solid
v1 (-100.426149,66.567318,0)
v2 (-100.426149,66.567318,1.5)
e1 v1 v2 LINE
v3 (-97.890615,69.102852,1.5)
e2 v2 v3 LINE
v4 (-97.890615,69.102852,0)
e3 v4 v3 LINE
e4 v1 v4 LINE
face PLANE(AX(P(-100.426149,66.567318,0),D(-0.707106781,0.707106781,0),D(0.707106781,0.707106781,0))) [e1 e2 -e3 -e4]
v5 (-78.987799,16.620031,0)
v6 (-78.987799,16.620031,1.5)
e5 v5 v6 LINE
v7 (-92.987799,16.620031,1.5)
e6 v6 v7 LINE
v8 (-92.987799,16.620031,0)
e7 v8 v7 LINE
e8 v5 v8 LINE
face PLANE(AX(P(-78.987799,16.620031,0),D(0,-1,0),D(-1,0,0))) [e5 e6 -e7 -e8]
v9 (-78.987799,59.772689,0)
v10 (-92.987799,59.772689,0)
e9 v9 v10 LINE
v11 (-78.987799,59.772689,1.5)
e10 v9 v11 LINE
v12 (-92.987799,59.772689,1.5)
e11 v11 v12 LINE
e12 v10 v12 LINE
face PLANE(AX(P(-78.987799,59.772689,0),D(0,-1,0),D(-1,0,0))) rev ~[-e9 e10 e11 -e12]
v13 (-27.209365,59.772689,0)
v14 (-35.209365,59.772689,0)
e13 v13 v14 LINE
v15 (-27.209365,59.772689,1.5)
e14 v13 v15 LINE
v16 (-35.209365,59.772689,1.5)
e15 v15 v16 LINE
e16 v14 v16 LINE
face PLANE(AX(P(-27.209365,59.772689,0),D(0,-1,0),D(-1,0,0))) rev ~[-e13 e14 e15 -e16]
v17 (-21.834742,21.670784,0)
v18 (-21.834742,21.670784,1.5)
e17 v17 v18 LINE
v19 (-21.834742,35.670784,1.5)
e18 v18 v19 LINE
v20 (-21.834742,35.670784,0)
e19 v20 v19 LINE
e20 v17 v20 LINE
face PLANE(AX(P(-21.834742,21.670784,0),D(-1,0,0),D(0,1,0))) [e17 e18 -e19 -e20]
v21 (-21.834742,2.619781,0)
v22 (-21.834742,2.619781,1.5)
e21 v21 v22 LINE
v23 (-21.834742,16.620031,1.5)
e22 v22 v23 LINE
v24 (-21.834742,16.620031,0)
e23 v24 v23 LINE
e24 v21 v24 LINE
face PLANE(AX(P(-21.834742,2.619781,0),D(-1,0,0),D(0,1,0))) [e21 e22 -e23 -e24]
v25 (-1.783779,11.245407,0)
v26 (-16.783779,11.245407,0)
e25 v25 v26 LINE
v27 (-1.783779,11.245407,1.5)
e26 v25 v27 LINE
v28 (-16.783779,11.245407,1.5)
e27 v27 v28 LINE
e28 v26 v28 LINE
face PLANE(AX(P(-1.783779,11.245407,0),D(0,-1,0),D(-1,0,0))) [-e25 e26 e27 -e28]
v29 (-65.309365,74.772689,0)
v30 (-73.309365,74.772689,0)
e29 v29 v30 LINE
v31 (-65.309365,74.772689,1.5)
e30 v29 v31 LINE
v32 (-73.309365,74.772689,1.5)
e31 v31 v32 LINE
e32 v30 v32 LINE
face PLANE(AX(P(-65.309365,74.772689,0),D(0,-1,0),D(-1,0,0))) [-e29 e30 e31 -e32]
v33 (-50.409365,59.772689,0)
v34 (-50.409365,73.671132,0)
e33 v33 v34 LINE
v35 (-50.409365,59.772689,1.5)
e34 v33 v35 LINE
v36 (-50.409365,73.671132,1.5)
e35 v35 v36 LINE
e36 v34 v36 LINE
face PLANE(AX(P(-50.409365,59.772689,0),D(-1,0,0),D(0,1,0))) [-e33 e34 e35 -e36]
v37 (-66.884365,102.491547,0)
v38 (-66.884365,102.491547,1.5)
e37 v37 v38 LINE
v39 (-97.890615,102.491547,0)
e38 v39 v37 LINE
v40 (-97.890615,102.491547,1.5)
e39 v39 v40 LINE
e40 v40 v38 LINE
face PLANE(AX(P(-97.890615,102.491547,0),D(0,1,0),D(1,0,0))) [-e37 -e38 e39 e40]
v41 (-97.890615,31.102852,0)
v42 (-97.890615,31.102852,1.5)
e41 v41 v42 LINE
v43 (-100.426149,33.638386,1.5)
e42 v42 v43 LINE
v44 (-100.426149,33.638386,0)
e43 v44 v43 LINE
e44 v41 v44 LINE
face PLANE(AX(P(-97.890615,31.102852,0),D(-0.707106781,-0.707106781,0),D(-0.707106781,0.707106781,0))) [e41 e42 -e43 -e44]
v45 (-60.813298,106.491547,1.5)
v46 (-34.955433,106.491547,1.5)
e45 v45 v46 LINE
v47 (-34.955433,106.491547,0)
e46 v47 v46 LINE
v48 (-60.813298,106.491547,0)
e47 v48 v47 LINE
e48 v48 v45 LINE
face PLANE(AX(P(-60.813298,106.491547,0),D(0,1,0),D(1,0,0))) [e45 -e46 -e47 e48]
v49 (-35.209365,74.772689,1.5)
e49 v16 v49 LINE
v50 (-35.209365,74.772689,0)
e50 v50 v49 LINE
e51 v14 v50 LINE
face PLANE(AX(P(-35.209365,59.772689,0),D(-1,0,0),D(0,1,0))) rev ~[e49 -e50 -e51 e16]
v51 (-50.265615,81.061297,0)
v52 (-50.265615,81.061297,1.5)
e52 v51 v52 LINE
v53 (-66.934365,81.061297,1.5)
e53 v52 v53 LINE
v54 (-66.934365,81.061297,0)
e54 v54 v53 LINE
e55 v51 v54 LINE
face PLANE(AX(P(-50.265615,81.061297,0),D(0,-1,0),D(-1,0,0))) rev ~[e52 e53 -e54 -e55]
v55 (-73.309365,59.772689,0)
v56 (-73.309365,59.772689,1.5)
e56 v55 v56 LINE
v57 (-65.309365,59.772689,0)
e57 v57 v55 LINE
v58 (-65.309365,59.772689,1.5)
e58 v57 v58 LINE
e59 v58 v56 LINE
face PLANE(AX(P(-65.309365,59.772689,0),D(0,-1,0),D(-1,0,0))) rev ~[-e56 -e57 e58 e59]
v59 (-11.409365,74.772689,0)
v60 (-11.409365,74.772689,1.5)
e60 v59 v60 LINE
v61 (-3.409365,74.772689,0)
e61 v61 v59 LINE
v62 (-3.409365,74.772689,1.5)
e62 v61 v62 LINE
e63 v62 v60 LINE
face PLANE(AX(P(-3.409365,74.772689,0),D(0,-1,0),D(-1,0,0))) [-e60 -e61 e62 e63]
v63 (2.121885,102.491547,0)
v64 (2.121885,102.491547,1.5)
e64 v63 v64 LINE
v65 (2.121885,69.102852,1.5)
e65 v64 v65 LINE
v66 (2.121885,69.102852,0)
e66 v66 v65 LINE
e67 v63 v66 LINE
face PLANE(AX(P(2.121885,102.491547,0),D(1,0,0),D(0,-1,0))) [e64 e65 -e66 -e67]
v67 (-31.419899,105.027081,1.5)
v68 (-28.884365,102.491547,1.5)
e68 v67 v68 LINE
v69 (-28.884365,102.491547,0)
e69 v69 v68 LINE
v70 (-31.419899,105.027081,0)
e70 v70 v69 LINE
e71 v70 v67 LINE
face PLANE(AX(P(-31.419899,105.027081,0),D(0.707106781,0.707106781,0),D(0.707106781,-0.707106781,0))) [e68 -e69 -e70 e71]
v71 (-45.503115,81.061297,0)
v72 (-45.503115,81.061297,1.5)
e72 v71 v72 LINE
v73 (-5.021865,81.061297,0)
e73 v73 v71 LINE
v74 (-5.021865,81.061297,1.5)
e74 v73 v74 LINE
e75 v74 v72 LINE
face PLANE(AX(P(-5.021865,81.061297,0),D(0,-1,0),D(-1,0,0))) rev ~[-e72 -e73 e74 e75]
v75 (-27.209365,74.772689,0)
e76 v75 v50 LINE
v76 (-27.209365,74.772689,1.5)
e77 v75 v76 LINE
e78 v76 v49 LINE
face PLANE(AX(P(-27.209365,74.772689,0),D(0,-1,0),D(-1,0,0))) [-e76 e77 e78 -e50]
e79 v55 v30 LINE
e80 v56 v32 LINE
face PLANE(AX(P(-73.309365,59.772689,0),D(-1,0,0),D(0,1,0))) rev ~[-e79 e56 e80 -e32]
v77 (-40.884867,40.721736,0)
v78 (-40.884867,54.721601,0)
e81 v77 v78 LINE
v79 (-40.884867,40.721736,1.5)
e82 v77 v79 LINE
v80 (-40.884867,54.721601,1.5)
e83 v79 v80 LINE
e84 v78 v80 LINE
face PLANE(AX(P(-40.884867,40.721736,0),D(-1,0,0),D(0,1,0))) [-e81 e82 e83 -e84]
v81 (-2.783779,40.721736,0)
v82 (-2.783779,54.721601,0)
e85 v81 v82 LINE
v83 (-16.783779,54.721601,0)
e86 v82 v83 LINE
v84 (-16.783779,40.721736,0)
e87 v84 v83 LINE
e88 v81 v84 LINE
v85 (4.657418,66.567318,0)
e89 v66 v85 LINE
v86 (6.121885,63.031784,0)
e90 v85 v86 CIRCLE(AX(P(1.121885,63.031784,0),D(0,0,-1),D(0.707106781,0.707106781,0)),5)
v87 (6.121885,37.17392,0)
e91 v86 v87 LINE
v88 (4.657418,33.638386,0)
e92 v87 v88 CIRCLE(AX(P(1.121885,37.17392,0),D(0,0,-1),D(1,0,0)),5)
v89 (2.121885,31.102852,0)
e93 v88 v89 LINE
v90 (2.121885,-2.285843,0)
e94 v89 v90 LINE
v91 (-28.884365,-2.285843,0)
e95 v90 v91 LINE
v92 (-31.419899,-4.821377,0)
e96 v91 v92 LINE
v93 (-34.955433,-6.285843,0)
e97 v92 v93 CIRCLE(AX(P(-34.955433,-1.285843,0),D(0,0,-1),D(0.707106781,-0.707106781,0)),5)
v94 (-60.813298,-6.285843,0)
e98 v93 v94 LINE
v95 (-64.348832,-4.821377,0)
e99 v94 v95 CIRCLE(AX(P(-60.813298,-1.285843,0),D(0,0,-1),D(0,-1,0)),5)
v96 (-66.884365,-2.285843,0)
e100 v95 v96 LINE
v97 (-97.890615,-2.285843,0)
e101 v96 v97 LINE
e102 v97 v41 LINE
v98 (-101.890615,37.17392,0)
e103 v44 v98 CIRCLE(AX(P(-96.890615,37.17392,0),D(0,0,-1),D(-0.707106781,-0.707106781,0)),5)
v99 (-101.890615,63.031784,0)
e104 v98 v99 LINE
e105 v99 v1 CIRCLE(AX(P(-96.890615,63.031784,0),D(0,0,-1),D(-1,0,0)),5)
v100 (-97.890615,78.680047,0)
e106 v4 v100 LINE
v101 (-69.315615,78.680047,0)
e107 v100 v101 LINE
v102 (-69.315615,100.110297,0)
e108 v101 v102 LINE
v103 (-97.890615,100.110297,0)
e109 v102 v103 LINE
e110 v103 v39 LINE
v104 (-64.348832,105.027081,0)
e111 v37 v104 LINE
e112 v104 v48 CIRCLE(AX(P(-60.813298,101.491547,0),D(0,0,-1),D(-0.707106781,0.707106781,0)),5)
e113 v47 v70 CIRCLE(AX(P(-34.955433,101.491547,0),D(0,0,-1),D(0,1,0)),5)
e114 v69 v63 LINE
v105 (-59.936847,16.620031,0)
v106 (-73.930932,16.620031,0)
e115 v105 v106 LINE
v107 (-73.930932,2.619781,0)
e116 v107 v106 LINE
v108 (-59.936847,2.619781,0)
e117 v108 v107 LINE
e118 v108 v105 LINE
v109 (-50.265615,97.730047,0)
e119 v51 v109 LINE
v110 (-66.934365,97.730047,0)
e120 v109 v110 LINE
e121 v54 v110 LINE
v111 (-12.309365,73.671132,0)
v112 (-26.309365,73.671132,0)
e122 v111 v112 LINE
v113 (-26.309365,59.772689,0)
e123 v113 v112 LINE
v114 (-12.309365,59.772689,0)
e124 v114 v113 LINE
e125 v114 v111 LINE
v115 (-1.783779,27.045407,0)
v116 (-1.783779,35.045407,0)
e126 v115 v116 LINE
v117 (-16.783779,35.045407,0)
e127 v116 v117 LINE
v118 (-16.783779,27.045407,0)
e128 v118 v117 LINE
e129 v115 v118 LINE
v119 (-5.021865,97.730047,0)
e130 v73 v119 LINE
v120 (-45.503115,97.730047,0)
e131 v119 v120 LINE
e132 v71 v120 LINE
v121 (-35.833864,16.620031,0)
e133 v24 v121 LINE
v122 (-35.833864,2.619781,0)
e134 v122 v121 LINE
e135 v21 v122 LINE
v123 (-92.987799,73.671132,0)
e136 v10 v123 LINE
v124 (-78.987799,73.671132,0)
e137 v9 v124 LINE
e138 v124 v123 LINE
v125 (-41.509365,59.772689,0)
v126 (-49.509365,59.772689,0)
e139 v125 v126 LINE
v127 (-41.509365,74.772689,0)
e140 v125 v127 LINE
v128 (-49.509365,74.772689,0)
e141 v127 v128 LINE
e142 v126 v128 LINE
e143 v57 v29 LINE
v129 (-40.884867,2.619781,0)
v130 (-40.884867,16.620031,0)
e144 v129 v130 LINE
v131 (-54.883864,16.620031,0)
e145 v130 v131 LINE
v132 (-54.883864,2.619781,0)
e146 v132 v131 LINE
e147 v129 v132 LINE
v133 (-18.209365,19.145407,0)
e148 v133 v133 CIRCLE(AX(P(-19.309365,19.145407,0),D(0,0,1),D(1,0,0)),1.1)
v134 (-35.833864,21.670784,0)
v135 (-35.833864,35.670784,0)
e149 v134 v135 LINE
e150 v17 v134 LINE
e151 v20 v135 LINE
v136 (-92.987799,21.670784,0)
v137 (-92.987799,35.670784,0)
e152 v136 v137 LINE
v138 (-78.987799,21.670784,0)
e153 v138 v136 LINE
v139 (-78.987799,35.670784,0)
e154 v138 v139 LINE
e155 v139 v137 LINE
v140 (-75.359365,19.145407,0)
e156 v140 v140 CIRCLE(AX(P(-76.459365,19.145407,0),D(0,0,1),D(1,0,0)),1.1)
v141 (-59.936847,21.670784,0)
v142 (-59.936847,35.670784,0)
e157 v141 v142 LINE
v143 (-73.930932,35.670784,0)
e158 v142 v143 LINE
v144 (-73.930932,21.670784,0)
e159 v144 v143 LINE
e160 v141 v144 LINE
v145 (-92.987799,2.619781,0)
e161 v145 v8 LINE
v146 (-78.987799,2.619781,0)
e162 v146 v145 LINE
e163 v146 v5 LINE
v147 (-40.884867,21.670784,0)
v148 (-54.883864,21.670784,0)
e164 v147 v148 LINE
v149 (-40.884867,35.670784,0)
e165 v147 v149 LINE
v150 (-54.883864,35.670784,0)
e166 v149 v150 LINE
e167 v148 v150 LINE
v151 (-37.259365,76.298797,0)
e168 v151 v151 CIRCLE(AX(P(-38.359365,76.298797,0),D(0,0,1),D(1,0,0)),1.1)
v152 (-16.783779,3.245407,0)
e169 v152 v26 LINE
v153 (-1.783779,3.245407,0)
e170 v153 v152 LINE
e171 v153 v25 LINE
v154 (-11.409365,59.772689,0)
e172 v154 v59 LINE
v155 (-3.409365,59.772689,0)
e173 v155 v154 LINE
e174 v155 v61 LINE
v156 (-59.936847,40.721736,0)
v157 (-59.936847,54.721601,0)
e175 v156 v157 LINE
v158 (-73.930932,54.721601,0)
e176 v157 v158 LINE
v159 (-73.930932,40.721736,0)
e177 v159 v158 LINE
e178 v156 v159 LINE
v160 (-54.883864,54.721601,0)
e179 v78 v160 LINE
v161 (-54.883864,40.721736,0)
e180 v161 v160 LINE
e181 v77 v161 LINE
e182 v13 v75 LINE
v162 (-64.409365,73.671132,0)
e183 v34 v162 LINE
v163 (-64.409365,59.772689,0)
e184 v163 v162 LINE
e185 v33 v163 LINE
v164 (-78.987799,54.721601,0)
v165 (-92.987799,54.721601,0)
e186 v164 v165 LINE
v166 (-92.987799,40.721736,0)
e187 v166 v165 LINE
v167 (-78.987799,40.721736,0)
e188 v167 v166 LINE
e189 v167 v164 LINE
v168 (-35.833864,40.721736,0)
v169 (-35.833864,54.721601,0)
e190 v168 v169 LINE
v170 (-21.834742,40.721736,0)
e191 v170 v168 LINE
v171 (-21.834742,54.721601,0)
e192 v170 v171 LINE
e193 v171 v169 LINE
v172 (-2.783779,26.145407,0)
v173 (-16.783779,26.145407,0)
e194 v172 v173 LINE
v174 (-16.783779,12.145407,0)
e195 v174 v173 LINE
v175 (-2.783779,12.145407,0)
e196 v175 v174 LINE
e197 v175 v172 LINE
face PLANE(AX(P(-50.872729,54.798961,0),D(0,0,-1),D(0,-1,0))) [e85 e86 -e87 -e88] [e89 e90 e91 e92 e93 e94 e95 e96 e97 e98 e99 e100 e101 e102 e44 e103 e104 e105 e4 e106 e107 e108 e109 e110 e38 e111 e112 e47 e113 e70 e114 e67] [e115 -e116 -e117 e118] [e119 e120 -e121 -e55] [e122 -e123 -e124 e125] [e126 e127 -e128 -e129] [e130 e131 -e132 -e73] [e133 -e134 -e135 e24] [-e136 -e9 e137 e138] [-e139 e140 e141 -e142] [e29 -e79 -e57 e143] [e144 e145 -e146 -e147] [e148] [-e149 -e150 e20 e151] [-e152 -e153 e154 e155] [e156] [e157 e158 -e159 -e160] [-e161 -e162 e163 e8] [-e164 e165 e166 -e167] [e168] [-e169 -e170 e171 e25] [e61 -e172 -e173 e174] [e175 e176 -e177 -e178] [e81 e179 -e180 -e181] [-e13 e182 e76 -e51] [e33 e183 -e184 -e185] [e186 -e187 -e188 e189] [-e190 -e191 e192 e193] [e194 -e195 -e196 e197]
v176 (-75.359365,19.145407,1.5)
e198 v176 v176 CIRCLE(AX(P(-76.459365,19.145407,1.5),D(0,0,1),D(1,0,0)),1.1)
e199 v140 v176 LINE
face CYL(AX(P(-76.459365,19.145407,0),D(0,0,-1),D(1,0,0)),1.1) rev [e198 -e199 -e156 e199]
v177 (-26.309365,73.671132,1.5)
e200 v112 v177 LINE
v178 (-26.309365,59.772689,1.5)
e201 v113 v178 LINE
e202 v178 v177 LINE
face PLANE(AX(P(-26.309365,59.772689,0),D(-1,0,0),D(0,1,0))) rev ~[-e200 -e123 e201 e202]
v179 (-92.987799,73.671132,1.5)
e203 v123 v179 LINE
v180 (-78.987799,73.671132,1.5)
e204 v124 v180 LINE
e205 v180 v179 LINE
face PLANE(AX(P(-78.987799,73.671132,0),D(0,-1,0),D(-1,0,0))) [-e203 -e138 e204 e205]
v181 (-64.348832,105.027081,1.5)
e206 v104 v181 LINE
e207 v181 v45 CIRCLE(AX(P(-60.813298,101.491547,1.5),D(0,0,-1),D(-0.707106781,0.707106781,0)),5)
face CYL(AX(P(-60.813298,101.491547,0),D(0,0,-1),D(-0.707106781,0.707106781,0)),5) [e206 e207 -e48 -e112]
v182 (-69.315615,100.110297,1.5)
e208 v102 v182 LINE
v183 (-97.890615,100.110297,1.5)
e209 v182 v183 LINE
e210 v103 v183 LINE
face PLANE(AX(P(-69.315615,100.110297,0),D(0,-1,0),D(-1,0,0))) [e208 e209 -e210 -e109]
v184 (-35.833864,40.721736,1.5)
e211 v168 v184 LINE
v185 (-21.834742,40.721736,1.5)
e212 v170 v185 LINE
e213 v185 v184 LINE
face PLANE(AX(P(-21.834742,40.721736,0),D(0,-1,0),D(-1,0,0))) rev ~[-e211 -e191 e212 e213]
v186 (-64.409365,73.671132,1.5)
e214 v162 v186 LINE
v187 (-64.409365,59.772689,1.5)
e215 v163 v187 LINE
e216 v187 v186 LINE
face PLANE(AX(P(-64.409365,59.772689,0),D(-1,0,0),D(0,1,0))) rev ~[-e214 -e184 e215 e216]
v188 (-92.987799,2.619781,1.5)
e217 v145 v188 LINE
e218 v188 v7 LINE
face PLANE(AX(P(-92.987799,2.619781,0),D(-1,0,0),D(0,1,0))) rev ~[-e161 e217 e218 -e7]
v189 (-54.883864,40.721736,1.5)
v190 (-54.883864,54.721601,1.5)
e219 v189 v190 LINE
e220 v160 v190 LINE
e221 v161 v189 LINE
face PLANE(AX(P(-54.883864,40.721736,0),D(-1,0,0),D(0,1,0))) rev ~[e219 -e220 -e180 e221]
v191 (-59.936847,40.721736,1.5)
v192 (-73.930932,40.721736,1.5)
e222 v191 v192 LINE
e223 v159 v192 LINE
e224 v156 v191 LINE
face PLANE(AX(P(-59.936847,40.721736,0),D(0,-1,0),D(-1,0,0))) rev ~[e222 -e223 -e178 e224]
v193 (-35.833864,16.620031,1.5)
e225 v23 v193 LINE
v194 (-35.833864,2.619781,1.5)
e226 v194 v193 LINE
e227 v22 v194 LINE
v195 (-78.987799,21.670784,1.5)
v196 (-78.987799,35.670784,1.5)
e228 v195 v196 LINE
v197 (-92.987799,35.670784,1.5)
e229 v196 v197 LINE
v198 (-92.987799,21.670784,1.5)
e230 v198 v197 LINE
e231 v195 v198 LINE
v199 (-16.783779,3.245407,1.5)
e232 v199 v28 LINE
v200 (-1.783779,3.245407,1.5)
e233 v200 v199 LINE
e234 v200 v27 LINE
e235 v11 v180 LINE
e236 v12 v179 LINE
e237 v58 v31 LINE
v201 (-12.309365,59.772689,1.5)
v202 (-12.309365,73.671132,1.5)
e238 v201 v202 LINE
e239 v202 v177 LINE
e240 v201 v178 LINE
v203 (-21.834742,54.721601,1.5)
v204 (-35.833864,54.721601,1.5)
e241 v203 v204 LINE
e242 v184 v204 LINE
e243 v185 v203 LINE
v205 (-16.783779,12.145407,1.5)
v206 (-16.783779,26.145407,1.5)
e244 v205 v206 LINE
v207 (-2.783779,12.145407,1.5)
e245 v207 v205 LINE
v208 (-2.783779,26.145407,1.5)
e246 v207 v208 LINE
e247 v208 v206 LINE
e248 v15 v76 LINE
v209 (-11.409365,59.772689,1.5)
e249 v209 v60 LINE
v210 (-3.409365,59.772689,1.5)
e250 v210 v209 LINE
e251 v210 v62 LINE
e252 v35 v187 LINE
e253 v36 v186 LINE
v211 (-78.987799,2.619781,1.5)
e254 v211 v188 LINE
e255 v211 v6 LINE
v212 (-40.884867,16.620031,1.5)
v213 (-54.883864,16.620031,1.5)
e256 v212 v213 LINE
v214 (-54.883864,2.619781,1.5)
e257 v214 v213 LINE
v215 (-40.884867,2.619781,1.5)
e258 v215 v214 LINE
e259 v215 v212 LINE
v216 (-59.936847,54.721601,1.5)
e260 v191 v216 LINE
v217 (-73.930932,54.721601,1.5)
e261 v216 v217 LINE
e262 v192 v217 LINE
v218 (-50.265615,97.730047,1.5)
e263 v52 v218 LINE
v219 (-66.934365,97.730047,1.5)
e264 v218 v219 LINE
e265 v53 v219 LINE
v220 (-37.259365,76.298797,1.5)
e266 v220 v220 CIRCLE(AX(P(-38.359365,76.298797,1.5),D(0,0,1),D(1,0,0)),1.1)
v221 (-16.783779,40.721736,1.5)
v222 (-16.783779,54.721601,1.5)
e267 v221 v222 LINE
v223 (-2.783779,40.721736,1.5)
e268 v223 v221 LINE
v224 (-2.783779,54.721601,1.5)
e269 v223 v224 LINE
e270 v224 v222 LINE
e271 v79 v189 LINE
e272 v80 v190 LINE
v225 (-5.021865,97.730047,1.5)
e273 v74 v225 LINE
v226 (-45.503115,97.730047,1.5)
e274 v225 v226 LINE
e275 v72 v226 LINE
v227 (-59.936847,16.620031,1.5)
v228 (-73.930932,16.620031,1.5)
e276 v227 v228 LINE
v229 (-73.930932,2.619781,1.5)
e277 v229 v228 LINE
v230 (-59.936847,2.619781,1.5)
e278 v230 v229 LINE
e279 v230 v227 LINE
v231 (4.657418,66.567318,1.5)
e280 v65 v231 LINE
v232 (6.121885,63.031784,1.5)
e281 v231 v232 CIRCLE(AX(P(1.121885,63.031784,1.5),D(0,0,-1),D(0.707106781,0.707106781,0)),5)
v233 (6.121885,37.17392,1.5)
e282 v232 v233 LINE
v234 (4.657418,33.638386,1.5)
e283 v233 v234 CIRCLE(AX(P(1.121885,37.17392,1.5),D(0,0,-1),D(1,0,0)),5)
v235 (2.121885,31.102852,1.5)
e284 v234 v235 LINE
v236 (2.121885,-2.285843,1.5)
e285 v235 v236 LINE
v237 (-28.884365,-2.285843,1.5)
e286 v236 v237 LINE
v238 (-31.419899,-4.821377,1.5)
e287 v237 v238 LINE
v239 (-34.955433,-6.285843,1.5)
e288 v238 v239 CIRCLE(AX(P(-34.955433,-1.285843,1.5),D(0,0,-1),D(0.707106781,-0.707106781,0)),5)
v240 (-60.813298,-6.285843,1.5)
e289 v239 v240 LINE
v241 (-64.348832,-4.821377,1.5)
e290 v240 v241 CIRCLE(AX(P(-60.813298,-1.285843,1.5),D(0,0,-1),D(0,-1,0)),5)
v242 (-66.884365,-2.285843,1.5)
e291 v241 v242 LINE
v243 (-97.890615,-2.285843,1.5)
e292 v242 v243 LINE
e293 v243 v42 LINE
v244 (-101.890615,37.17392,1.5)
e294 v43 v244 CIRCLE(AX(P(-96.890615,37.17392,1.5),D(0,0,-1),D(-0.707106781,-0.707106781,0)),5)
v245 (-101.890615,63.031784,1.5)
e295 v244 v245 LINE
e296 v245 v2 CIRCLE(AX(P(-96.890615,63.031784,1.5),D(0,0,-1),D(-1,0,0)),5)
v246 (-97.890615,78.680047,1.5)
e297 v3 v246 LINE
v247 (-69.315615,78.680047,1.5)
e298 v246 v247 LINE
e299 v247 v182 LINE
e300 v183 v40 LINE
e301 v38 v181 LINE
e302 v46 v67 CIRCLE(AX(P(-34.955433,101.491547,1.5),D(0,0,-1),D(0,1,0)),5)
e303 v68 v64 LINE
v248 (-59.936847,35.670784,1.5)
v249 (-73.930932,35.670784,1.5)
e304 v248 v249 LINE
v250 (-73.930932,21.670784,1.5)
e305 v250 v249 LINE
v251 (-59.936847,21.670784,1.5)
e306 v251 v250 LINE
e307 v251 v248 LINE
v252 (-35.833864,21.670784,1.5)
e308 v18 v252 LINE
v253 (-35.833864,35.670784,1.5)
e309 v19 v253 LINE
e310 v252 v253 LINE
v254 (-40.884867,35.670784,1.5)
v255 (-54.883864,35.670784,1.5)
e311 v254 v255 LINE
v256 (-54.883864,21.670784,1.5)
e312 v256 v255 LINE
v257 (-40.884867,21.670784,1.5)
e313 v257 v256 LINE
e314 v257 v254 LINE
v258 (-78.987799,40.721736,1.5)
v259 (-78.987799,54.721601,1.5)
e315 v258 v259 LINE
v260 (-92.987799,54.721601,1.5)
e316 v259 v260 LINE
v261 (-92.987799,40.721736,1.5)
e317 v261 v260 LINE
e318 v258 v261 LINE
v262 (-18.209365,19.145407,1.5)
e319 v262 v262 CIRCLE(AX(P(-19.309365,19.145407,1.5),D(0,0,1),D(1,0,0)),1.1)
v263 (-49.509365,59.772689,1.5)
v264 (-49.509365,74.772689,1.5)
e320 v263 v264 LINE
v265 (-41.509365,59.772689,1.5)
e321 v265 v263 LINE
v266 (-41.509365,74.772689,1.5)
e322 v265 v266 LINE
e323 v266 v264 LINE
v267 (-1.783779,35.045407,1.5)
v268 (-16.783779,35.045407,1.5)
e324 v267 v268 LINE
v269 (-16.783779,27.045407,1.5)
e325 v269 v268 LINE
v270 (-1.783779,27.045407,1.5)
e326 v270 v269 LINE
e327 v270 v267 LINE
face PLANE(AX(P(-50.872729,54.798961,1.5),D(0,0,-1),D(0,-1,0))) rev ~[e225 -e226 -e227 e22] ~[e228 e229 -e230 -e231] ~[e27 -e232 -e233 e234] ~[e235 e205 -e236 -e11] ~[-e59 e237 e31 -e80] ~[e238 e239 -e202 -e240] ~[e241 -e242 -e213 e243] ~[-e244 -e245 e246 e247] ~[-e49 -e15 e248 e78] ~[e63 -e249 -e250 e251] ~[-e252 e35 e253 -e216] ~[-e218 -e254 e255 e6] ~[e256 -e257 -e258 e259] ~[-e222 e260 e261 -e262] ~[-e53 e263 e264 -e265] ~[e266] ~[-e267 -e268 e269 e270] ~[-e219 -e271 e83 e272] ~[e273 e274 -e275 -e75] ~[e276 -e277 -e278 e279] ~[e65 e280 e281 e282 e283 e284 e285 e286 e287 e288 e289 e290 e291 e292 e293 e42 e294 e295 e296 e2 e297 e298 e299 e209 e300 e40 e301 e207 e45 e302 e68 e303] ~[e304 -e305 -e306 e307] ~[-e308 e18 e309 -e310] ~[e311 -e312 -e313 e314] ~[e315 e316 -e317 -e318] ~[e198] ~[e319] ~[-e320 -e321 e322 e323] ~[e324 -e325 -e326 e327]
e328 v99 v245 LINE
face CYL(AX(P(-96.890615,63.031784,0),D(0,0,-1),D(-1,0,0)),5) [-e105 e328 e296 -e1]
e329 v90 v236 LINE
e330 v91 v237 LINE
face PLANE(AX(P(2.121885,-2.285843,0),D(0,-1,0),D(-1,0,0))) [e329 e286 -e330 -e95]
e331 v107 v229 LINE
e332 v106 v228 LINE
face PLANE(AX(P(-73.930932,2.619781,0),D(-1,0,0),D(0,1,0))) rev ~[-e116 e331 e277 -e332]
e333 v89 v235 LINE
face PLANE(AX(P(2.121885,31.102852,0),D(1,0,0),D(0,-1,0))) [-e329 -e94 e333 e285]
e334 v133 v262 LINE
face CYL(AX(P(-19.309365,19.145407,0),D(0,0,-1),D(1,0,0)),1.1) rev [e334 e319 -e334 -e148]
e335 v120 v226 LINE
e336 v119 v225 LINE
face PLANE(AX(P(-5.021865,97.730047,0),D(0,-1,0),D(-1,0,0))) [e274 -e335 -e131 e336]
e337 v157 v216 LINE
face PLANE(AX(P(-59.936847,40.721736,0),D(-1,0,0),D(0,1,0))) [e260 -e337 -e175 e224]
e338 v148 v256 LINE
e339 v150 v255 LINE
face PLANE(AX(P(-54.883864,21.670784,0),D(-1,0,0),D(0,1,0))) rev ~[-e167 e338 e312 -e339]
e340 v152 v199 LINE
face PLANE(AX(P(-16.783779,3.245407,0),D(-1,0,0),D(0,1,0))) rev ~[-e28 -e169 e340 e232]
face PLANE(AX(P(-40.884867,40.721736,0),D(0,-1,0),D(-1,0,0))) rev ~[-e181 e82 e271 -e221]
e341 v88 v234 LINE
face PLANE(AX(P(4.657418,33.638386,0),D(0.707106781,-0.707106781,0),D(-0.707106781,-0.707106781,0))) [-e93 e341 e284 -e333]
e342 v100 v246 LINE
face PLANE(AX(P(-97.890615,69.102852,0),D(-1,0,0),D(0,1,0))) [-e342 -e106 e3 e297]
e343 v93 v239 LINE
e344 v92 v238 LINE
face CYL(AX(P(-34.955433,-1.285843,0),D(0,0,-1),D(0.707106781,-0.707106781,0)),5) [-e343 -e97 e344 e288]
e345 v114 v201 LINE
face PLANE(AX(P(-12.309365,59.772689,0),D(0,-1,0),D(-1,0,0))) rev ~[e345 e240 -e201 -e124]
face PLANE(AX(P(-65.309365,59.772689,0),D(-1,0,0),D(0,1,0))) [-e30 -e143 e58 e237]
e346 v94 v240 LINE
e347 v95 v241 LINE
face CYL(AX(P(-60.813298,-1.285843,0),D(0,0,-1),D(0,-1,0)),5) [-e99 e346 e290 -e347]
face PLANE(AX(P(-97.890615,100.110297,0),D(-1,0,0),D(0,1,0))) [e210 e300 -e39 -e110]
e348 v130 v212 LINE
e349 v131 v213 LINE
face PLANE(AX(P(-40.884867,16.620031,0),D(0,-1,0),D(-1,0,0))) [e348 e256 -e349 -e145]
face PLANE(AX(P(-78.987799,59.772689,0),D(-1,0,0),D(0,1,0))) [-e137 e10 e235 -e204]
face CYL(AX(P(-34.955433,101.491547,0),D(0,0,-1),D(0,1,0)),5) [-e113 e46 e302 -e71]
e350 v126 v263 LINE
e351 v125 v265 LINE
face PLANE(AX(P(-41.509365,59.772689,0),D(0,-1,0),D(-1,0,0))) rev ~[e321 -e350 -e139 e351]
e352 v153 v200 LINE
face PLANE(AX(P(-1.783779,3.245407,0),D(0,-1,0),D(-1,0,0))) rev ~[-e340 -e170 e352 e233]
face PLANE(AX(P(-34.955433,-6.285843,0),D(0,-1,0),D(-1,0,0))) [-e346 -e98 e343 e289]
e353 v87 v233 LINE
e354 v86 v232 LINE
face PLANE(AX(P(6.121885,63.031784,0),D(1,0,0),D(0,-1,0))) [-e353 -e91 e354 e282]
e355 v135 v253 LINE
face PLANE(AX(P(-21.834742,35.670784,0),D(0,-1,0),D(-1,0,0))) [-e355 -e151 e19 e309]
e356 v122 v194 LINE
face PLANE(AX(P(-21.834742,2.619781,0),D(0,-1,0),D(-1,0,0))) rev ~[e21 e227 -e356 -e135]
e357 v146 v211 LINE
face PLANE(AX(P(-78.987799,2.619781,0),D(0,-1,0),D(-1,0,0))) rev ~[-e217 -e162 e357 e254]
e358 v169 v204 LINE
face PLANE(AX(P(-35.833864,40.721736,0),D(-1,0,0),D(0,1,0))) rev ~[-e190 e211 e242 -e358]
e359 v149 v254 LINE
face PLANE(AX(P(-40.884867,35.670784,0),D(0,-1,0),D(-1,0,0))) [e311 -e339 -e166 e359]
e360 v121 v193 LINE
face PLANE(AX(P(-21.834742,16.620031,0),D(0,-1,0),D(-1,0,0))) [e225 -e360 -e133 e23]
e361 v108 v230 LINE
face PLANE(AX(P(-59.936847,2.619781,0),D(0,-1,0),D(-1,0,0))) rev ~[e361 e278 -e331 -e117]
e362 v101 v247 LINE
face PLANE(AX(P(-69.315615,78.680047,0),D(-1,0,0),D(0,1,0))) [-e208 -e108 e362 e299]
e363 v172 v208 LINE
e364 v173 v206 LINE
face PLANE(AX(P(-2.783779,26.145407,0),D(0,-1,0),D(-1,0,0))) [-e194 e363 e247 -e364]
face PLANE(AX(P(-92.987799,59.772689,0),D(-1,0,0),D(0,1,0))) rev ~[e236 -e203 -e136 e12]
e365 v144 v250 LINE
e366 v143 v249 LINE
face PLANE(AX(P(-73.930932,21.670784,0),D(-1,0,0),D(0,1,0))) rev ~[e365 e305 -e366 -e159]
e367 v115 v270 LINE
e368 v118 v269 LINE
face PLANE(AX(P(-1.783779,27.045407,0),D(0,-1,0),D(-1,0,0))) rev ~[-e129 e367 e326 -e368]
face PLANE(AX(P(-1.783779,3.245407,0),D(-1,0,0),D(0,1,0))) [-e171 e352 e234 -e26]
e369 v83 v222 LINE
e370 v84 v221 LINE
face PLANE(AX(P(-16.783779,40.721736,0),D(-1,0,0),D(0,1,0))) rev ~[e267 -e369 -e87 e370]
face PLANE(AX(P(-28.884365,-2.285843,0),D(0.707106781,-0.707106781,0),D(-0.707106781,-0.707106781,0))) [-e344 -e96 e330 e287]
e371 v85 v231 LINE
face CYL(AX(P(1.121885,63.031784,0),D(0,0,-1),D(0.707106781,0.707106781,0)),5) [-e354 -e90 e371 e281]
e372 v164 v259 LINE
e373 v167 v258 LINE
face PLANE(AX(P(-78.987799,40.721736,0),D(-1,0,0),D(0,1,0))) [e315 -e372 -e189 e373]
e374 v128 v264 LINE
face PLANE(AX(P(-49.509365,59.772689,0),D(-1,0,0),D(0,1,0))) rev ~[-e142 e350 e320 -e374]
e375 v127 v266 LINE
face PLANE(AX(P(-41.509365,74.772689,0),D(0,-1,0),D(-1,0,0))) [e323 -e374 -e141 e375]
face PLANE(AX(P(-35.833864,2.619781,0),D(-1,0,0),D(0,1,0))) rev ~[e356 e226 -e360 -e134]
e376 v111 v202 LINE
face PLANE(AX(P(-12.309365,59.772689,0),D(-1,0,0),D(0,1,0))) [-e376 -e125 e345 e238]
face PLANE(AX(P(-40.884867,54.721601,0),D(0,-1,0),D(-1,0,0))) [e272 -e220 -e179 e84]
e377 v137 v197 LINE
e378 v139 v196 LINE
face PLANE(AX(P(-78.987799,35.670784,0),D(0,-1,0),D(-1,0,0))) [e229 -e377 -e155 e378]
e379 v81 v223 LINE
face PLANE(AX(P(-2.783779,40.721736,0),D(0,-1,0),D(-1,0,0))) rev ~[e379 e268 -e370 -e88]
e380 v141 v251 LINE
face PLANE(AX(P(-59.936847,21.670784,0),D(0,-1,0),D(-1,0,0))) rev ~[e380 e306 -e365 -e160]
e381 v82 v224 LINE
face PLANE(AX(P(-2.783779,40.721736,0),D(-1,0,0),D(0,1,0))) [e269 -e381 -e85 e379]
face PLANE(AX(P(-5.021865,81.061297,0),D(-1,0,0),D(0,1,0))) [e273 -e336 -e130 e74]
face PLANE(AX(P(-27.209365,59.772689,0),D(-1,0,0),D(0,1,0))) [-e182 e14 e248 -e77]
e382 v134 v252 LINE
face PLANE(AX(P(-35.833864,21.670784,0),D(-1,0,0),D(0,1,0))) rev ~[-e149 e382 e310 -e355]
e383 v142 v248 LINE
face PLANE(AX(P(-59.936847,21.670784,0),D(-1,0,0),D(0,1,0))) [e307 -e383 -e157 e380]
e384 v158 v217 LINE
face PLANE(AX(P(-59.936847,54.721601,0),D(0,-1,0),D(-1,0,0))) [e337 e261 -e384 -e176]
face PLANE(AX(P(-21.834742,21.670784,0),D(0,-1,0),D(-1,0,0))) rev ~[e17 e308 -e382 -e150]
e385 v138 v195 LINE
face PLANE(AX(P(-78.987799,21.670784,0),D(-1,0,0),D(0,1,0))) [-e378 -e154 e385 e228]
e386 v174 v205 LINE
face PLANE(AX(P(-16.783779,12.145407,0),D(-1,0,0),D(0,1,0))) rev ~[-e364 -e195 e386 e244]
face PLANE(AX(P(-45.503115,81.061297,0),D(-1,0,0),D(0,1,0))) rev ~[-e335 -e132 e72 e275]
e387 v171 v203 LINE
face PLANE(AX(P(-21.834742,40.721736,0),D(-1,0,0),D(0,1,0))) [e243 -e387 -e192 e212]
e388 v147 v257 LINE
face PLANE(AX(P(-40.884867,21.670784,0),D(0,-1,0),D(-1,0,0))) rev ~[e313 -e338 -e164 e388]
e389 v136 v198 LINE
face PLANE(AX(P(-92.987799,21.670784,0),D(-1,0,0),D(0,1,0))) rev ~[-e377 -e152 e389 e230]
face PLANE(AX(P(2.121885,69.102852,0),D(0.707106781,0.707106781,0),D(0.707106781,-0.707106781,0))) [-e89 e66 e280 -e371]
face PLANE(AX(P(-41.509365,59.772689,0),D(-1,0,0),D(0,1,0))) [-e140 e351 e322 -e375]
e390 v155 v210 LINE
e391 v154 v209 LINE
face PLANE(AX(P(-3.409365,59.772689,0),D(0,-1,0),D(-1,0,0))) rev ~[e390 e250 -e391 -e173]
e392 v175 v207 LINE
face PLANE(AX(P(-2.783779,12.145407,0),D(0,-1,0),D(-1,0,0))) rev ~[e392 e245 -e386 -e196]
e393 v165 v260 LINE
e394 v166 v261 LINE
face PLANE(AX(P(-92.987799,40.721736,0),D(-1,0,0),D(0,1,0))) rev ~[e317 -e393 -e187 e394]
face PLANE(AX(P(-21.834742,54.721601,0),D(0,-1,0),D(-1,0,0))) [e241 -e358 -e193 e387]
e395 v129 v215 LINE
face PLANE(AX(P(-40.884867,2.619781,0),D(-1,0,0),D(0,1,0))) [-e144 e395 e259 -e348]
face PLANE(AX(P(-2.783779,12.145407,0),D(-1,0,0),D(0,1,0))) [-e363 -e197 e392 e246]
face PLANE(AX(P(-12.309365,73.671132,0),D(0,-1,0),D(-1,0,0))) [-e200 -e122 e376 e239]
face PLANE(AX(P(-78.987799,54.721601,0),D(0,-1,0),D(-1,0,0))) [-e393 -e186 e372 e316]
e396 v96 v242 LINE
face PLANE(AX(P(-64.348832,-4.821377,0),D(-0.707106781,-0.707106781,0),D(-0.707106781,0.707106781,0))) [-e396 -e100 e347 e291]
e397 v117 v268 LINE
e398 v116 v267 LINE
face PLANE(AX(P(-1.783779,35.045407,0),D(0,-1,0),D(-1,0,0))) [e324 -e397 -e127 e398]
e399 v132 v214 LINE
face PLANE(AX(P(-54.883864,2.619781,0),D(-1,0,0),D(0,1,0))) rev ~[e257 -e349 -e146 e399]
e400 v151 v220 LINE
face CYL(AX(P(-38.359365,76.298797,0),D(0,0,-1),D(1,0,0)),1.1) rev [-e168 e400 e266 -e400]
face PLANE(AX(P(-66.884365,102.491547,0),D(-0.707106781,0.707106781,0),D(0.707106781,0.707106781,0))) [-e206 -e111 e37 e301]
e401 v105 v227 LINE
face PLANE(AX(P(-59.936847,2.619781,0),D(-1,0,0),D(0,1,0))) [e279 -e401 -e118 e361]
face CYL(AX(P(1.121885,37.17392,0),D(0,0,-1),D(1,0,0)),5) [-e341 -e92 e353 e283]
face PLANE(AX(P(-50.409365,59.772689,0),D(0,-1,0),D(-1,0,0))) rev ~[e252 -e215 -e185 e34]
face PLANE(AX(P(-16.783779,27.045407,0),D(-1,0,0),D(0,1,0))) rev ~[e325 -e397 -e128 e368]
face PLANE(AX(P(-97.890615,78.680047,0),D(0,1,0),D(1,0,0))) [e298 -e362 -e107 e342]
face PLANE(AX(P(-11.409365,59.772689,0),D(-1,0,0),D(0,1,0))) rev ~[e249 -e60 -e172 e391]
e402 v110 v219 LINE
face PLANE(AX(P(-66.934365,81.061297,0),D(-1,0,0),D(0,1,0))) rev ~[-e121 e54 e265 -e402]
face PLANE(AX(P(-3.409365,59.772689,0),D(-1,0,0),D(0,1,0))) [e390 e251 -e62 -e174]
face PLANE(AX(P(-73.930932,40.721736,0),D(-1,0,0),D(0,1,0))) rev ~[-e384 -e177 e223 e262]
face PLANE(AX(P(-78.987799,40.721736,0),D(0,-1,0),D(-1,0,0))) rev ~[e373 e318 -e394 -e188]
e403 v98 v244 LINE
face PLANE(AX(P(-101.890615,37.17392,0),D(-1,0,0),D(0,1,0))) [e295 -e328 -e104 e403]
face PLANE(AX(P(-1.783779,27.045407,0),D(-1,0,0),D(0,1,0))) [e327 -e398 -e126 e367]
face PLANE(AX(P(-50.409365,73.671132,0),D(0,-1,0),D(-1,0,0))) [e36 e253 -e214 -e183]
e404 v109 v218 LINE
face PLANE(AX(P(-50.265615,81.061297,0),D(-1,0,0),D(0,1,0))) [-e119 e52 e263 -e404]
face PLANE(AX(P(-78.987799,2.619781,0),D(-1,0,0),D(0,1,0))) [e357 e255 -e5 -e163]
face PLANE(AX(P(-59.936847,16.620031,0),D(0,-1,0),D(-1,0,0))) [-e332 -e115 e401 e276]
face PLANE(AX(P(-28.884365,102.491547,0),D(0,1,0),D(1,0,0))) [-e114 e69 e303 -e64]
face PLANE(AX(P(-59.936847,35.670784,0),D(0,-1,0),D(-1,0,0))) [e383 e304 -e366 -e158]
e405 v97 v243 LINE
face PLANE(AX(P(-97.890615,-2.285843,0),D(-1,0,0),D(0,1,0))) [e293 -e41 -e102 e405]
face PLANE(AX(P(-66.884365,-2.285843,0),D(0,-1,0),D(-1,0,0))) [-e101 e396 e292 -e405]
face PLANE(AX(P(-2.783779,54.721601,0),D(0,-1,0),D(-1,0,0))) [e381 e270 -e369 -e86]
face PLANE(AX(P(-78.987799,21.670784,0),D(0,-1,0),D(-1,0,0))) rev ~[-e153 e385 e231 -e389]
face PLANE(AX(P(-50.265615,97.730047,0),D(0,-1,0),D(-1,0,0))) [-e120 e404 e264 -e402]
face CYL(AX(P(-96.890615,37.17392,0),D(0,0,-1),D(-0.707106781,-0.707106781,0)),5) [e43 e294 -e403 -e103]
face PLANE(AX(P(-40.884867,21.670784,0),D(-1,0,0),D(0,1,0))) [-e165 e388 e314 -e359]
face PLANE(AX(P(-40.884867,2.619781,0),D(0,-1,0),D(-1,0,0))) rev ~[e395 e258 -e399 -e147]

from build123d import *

# Parameters (mm, degrees)
SKETCH2_R           = 1.1
SKETCH2_W           = 14
SKETCH2_H           = 14
SKETCH2_W_2         = 13.999864793
SKETCH2_W_3         = 13.898443713
SKETCH2_W_4         = 14.000250013
SKETCH2_H_2         = 13.999122456
SKETCH2_H_3         = 13.99899745
SKETCH2_H_4         = 13.994084704
SKETCH2_W_5         = 16.66875
SKETCH2_H_5         = 16.66875
SKETCH2_H_6         = 40.48125
SKETCH2_W_6         = 8
SKETCH2_H_7         = 15
SKETCH2_W_7         = 15
SKETCH2_H_8         = 8
BOSS_EXTRUDE1_DEPTH = 1.5


with BuildPart() as part:
    # Sketch2 → Boss-Extrude1 (new body)
    with BuildSketch(Plane(origin=(0, 0, 0), x_dir=(0, 1, 0), z_dir=(0, 0, 1))):
        with BuildLine():
            Line((78.680047039, 95.509365468), (78.680047039, 69.315615468))
            Line((78.680047039, 69.315615468), (100.110297039, 69.315615468))
            Line((100.110297039, 69.315615468), (100.110297039, 95.563583947))
            Line((100.110297039, 95.563583947), (100.110297039, 97.890615468))
            Line((100.110297039, 97.890615468), (102.491547039, 97.890615468))
            Line((102.491547039, 97.890615468), (102.491547039, 95.509365468))
            Line((102.491547039, 95.509365468), (102.491547039, 66.884365468))
            Line((102.491547039, 66.884365468), (105.027080945, 64.348831562))
            ThreePointArc((105.027080945, 64.348831562), (106.110944702, 62.726714818), (106.491547039, 60.813297656))
            Line((106.491547039, 60.813297656), (106.491547039, 34.95543328))
            ThreePointArc((106.491547039, 34.95543328), (106.110944702, 33.042016118), (105.027080945, 31.419899374))
            Line((105.027080945, 31.419899374), (102.491547039, 28.884365468))
            Line((102.491547039, 28.884365468), (102.491547039, 0.259365468))
            Line((102.491547039, 0.259365468), (102.491547039, -2.121884532))
            Line((102.491547039, -2.121884532), (69.102852155, -2.121884532))
            Line((69.102852155, -2.121884532), (66.567318249, -4.657418438))
            ThreePointArc((66.567318249, -4.657418438), (64.945201505, -5.741282195), (63.031784343, -6.121884532))
            Line((63.031784343, -6.121884532), (37.173919967, -6.121884532))
            ThreePointArc((37.173919967, -6.121884532), (35.260502805, -5.741282195), (33.638386061, -4.657418438))
            Line((33.638386061, -4.657418438), (31.102852155, -2.121884532))
            Line((31.102852155, -2.121884532), (-2.285842729, -2.121884532))
            Line((-2.285842729, -2.121884532), (-2.285842729, 28.884365468))
            Line((-2.285842729, 28.884365468), (-4.821376635, 31.419899374))
            ThreePointArc((-4.821376635, 31.419899374), (-5.905240392, 33.042016118), (-6.285842729, 34.95543328))
            Line((-6.285842729, 34.95543328), (-6.285842729, 60.813297656))
            ThreePointArc((-6.285842729, 60.813297656), (-5.905240392, 62.726714818), (-4.821376635, 64.348831562))
            Line((-4.821376635, 64.348831562), (-2.285842729, 66.884365468))
            Line((-2.285842729, 66.884365468), (-2.285842729, 97.890615468))
            Line((-2.285842729, 97.890615468), (31.102852155, 97.890615468))
            Line((31.102852155, 97.890615468), (33.638386061, 100.426149374))
            ThreePointArc((33.638386061, 100.426149374), (35.260502805, 101.510013131), (37.173919967, 101.890615468))
            Line((37.173919967, 101.890615468), (63.031784343, 101.890615468))
            ThreePointArc((63.031784343, 101.890615468), (64.945201505, 101.510013131), (66.567318249, 100.426149374))
            Line((66.567318249, 100.426149374), (69.102852155, 97.890615468))
            Line((69.102852155, 97.890615468), (78.680047039, 97.890615468))
            Line((78.680047039, 97.890615468), (78.680047039, 95.509365468))
        make_face()
        with Locations(Location((19.145407271, 76.459365468, 0), (0, 0, 270))):
            Circle(SKETCH2_R, mode=Mode.SUBTRACT)
        with Locations(Location((19.145407271, 19.309365468, 0), (0, 0, 270))):
            Circle(SKETCH2_R, mode=Mode.SUBTRACT)
        with Locations(Location((76.298797039, 38.359365468, 0), (0, 0, 270))):
            Circle(SKETCH2_R, mode=Mode.SUBTRACT)
        with Locations((19.145407271, 9.783779189)):
            Rectangle(SKETCH2_W, SKETCH2_H, mode=Mode.SUBTRACT)
        with Locations((47.721668484, 9.783779189)):
            Rectangle(SKETCH2_W_2, SKETCH2_H, mode=Mode.SUBTRACT)
        with Locations((66.721910491, 19.309365468)):
            Rectangle(SKETCH2_W_3, SKETCH2_H, mode=Mode.SUBTRACT)
        with Locations((9.619905995, 28.834302965)):
            Rectangle(SKETCH2_W_4, SKETCH2_H_2, mode=Mode.SUBTRACT)
        with Locations((28.67078354, 28.834302965)):
            Rectangle(SKETCH2_W, SKETCH2_H_2, mode=Mode.SUBTRACT)
        with Locations((47.721668484, 28.834302965)):
            Rectangle(SKETCH2_W_2, SKETCH2_H_2, mode=Mode.SUBTRACT)
        with Locations((9.619905995, 47.884365468)):
            Rectangle(SKETCH2_W_4, SKETCH2_H_3, mode=Mode.SUBTRACT)
        with Locations((28.67078354, 47.884365468)):
            Rectangle(SKETCH2_W, SKETCH2_H_3, mode=Mode.SUBTRACT)
        with Locations((47.721668484, 47.884365468)):
            Rectangle(SKETCH2_W_2, SKETCH2_H_3, mode=Mode.SUBTRACT)
        with Locations((66.721910491, 57.409365468)):
            Rectangle(SKETCH2_W_3, SKETCH2_H, mode=Mode.SUBTRACT)
        with Locations((9.619905995, 66.933889194)):
            Rectangle(SKETCH2_W_4, SKETCH2_H_4, mode=Mode.SUBTRACT)
        with Locations((28.67078354, 66.933889194)):
            Rectangle(SKETCH2_W, SKETCH2_H_4, mode=Mode.SUBTRACT)
        with Locations((47.721668484, 66.933889194)):
            Rectangle(SKETCH2_W_2, SKETCH2_H_4, mode=Mode.SUBTRACT)
        with Locations((9.619905995, 85.98779939)):
            Rectangle(SKETCH2_W_4, SKETCH2_H, mode=Mode.SUBTRACT)
        with Locations((28.67078354, 85.98779939)):
            Rectangle(SKETCH2_W, SKETCH2_H, mode=Mode.SUBTRACT)
        with Locations((47.721668484, 85.98779939)):
            Rectangle(SKETCH2_W_2, SKETCH2_H, mode=Mode.SUBTRACT)
        with Locations((66.721910491, 85.98779939)):
            Rectangle(SKETCH2_W_3, SKETCH2_H, mode=Mode.SUBTRACT)
        with Locations((89.395672039, 58.599990468)):
            Rectangle(SKETCH2_W_5, SKETCH2_H_5, mode=Mode.SUBTRACT)
        with Locations((89.395672039, 25.262490468)):
            Rectangle(SKETCH2_W_5, SKETCH2_H_6, mode=Mode.SUBTRACT)
        with Locations((31.045407271, 9.283779189)):
            Rectangle(SKETCH2_W_6, SKETCH2_H_7, mode=Mode.SUBTRACT)
        with Locations((7.245407271, 9.283779189)):
            Rectangle(SKETCH2_W_6, SKETCH2_H_7, mode=Mode.SUBTRACT)
        with Locations((67.272688635, 31.209365468)):
            Rectangle(SKETCH2_W_7, SKETCH2_H_8, mode=Mode.SUBTRACT)
        with Locations((67.272688635, 7.409365468)):
            Rectangle(SKETCH2_W_7, SKETCH2_H_8, mode=Mode.SUBTRACT)
        with Locations((67.272688635, 45.509365468)):
            Rectangle(SKETCH2_W_7, SKETCH2_H_8, mode=Mode.SUBTRACT)
        with Locations((67.272688635, 69.309365468)):
            Rectangle(SKETCH2_W_7, SKETCH2_H_8, mode=Mode.SUBTRACT)
    extrude(amount=BOSS_EXTRUDE1_DEPTH)


solid = part.part
